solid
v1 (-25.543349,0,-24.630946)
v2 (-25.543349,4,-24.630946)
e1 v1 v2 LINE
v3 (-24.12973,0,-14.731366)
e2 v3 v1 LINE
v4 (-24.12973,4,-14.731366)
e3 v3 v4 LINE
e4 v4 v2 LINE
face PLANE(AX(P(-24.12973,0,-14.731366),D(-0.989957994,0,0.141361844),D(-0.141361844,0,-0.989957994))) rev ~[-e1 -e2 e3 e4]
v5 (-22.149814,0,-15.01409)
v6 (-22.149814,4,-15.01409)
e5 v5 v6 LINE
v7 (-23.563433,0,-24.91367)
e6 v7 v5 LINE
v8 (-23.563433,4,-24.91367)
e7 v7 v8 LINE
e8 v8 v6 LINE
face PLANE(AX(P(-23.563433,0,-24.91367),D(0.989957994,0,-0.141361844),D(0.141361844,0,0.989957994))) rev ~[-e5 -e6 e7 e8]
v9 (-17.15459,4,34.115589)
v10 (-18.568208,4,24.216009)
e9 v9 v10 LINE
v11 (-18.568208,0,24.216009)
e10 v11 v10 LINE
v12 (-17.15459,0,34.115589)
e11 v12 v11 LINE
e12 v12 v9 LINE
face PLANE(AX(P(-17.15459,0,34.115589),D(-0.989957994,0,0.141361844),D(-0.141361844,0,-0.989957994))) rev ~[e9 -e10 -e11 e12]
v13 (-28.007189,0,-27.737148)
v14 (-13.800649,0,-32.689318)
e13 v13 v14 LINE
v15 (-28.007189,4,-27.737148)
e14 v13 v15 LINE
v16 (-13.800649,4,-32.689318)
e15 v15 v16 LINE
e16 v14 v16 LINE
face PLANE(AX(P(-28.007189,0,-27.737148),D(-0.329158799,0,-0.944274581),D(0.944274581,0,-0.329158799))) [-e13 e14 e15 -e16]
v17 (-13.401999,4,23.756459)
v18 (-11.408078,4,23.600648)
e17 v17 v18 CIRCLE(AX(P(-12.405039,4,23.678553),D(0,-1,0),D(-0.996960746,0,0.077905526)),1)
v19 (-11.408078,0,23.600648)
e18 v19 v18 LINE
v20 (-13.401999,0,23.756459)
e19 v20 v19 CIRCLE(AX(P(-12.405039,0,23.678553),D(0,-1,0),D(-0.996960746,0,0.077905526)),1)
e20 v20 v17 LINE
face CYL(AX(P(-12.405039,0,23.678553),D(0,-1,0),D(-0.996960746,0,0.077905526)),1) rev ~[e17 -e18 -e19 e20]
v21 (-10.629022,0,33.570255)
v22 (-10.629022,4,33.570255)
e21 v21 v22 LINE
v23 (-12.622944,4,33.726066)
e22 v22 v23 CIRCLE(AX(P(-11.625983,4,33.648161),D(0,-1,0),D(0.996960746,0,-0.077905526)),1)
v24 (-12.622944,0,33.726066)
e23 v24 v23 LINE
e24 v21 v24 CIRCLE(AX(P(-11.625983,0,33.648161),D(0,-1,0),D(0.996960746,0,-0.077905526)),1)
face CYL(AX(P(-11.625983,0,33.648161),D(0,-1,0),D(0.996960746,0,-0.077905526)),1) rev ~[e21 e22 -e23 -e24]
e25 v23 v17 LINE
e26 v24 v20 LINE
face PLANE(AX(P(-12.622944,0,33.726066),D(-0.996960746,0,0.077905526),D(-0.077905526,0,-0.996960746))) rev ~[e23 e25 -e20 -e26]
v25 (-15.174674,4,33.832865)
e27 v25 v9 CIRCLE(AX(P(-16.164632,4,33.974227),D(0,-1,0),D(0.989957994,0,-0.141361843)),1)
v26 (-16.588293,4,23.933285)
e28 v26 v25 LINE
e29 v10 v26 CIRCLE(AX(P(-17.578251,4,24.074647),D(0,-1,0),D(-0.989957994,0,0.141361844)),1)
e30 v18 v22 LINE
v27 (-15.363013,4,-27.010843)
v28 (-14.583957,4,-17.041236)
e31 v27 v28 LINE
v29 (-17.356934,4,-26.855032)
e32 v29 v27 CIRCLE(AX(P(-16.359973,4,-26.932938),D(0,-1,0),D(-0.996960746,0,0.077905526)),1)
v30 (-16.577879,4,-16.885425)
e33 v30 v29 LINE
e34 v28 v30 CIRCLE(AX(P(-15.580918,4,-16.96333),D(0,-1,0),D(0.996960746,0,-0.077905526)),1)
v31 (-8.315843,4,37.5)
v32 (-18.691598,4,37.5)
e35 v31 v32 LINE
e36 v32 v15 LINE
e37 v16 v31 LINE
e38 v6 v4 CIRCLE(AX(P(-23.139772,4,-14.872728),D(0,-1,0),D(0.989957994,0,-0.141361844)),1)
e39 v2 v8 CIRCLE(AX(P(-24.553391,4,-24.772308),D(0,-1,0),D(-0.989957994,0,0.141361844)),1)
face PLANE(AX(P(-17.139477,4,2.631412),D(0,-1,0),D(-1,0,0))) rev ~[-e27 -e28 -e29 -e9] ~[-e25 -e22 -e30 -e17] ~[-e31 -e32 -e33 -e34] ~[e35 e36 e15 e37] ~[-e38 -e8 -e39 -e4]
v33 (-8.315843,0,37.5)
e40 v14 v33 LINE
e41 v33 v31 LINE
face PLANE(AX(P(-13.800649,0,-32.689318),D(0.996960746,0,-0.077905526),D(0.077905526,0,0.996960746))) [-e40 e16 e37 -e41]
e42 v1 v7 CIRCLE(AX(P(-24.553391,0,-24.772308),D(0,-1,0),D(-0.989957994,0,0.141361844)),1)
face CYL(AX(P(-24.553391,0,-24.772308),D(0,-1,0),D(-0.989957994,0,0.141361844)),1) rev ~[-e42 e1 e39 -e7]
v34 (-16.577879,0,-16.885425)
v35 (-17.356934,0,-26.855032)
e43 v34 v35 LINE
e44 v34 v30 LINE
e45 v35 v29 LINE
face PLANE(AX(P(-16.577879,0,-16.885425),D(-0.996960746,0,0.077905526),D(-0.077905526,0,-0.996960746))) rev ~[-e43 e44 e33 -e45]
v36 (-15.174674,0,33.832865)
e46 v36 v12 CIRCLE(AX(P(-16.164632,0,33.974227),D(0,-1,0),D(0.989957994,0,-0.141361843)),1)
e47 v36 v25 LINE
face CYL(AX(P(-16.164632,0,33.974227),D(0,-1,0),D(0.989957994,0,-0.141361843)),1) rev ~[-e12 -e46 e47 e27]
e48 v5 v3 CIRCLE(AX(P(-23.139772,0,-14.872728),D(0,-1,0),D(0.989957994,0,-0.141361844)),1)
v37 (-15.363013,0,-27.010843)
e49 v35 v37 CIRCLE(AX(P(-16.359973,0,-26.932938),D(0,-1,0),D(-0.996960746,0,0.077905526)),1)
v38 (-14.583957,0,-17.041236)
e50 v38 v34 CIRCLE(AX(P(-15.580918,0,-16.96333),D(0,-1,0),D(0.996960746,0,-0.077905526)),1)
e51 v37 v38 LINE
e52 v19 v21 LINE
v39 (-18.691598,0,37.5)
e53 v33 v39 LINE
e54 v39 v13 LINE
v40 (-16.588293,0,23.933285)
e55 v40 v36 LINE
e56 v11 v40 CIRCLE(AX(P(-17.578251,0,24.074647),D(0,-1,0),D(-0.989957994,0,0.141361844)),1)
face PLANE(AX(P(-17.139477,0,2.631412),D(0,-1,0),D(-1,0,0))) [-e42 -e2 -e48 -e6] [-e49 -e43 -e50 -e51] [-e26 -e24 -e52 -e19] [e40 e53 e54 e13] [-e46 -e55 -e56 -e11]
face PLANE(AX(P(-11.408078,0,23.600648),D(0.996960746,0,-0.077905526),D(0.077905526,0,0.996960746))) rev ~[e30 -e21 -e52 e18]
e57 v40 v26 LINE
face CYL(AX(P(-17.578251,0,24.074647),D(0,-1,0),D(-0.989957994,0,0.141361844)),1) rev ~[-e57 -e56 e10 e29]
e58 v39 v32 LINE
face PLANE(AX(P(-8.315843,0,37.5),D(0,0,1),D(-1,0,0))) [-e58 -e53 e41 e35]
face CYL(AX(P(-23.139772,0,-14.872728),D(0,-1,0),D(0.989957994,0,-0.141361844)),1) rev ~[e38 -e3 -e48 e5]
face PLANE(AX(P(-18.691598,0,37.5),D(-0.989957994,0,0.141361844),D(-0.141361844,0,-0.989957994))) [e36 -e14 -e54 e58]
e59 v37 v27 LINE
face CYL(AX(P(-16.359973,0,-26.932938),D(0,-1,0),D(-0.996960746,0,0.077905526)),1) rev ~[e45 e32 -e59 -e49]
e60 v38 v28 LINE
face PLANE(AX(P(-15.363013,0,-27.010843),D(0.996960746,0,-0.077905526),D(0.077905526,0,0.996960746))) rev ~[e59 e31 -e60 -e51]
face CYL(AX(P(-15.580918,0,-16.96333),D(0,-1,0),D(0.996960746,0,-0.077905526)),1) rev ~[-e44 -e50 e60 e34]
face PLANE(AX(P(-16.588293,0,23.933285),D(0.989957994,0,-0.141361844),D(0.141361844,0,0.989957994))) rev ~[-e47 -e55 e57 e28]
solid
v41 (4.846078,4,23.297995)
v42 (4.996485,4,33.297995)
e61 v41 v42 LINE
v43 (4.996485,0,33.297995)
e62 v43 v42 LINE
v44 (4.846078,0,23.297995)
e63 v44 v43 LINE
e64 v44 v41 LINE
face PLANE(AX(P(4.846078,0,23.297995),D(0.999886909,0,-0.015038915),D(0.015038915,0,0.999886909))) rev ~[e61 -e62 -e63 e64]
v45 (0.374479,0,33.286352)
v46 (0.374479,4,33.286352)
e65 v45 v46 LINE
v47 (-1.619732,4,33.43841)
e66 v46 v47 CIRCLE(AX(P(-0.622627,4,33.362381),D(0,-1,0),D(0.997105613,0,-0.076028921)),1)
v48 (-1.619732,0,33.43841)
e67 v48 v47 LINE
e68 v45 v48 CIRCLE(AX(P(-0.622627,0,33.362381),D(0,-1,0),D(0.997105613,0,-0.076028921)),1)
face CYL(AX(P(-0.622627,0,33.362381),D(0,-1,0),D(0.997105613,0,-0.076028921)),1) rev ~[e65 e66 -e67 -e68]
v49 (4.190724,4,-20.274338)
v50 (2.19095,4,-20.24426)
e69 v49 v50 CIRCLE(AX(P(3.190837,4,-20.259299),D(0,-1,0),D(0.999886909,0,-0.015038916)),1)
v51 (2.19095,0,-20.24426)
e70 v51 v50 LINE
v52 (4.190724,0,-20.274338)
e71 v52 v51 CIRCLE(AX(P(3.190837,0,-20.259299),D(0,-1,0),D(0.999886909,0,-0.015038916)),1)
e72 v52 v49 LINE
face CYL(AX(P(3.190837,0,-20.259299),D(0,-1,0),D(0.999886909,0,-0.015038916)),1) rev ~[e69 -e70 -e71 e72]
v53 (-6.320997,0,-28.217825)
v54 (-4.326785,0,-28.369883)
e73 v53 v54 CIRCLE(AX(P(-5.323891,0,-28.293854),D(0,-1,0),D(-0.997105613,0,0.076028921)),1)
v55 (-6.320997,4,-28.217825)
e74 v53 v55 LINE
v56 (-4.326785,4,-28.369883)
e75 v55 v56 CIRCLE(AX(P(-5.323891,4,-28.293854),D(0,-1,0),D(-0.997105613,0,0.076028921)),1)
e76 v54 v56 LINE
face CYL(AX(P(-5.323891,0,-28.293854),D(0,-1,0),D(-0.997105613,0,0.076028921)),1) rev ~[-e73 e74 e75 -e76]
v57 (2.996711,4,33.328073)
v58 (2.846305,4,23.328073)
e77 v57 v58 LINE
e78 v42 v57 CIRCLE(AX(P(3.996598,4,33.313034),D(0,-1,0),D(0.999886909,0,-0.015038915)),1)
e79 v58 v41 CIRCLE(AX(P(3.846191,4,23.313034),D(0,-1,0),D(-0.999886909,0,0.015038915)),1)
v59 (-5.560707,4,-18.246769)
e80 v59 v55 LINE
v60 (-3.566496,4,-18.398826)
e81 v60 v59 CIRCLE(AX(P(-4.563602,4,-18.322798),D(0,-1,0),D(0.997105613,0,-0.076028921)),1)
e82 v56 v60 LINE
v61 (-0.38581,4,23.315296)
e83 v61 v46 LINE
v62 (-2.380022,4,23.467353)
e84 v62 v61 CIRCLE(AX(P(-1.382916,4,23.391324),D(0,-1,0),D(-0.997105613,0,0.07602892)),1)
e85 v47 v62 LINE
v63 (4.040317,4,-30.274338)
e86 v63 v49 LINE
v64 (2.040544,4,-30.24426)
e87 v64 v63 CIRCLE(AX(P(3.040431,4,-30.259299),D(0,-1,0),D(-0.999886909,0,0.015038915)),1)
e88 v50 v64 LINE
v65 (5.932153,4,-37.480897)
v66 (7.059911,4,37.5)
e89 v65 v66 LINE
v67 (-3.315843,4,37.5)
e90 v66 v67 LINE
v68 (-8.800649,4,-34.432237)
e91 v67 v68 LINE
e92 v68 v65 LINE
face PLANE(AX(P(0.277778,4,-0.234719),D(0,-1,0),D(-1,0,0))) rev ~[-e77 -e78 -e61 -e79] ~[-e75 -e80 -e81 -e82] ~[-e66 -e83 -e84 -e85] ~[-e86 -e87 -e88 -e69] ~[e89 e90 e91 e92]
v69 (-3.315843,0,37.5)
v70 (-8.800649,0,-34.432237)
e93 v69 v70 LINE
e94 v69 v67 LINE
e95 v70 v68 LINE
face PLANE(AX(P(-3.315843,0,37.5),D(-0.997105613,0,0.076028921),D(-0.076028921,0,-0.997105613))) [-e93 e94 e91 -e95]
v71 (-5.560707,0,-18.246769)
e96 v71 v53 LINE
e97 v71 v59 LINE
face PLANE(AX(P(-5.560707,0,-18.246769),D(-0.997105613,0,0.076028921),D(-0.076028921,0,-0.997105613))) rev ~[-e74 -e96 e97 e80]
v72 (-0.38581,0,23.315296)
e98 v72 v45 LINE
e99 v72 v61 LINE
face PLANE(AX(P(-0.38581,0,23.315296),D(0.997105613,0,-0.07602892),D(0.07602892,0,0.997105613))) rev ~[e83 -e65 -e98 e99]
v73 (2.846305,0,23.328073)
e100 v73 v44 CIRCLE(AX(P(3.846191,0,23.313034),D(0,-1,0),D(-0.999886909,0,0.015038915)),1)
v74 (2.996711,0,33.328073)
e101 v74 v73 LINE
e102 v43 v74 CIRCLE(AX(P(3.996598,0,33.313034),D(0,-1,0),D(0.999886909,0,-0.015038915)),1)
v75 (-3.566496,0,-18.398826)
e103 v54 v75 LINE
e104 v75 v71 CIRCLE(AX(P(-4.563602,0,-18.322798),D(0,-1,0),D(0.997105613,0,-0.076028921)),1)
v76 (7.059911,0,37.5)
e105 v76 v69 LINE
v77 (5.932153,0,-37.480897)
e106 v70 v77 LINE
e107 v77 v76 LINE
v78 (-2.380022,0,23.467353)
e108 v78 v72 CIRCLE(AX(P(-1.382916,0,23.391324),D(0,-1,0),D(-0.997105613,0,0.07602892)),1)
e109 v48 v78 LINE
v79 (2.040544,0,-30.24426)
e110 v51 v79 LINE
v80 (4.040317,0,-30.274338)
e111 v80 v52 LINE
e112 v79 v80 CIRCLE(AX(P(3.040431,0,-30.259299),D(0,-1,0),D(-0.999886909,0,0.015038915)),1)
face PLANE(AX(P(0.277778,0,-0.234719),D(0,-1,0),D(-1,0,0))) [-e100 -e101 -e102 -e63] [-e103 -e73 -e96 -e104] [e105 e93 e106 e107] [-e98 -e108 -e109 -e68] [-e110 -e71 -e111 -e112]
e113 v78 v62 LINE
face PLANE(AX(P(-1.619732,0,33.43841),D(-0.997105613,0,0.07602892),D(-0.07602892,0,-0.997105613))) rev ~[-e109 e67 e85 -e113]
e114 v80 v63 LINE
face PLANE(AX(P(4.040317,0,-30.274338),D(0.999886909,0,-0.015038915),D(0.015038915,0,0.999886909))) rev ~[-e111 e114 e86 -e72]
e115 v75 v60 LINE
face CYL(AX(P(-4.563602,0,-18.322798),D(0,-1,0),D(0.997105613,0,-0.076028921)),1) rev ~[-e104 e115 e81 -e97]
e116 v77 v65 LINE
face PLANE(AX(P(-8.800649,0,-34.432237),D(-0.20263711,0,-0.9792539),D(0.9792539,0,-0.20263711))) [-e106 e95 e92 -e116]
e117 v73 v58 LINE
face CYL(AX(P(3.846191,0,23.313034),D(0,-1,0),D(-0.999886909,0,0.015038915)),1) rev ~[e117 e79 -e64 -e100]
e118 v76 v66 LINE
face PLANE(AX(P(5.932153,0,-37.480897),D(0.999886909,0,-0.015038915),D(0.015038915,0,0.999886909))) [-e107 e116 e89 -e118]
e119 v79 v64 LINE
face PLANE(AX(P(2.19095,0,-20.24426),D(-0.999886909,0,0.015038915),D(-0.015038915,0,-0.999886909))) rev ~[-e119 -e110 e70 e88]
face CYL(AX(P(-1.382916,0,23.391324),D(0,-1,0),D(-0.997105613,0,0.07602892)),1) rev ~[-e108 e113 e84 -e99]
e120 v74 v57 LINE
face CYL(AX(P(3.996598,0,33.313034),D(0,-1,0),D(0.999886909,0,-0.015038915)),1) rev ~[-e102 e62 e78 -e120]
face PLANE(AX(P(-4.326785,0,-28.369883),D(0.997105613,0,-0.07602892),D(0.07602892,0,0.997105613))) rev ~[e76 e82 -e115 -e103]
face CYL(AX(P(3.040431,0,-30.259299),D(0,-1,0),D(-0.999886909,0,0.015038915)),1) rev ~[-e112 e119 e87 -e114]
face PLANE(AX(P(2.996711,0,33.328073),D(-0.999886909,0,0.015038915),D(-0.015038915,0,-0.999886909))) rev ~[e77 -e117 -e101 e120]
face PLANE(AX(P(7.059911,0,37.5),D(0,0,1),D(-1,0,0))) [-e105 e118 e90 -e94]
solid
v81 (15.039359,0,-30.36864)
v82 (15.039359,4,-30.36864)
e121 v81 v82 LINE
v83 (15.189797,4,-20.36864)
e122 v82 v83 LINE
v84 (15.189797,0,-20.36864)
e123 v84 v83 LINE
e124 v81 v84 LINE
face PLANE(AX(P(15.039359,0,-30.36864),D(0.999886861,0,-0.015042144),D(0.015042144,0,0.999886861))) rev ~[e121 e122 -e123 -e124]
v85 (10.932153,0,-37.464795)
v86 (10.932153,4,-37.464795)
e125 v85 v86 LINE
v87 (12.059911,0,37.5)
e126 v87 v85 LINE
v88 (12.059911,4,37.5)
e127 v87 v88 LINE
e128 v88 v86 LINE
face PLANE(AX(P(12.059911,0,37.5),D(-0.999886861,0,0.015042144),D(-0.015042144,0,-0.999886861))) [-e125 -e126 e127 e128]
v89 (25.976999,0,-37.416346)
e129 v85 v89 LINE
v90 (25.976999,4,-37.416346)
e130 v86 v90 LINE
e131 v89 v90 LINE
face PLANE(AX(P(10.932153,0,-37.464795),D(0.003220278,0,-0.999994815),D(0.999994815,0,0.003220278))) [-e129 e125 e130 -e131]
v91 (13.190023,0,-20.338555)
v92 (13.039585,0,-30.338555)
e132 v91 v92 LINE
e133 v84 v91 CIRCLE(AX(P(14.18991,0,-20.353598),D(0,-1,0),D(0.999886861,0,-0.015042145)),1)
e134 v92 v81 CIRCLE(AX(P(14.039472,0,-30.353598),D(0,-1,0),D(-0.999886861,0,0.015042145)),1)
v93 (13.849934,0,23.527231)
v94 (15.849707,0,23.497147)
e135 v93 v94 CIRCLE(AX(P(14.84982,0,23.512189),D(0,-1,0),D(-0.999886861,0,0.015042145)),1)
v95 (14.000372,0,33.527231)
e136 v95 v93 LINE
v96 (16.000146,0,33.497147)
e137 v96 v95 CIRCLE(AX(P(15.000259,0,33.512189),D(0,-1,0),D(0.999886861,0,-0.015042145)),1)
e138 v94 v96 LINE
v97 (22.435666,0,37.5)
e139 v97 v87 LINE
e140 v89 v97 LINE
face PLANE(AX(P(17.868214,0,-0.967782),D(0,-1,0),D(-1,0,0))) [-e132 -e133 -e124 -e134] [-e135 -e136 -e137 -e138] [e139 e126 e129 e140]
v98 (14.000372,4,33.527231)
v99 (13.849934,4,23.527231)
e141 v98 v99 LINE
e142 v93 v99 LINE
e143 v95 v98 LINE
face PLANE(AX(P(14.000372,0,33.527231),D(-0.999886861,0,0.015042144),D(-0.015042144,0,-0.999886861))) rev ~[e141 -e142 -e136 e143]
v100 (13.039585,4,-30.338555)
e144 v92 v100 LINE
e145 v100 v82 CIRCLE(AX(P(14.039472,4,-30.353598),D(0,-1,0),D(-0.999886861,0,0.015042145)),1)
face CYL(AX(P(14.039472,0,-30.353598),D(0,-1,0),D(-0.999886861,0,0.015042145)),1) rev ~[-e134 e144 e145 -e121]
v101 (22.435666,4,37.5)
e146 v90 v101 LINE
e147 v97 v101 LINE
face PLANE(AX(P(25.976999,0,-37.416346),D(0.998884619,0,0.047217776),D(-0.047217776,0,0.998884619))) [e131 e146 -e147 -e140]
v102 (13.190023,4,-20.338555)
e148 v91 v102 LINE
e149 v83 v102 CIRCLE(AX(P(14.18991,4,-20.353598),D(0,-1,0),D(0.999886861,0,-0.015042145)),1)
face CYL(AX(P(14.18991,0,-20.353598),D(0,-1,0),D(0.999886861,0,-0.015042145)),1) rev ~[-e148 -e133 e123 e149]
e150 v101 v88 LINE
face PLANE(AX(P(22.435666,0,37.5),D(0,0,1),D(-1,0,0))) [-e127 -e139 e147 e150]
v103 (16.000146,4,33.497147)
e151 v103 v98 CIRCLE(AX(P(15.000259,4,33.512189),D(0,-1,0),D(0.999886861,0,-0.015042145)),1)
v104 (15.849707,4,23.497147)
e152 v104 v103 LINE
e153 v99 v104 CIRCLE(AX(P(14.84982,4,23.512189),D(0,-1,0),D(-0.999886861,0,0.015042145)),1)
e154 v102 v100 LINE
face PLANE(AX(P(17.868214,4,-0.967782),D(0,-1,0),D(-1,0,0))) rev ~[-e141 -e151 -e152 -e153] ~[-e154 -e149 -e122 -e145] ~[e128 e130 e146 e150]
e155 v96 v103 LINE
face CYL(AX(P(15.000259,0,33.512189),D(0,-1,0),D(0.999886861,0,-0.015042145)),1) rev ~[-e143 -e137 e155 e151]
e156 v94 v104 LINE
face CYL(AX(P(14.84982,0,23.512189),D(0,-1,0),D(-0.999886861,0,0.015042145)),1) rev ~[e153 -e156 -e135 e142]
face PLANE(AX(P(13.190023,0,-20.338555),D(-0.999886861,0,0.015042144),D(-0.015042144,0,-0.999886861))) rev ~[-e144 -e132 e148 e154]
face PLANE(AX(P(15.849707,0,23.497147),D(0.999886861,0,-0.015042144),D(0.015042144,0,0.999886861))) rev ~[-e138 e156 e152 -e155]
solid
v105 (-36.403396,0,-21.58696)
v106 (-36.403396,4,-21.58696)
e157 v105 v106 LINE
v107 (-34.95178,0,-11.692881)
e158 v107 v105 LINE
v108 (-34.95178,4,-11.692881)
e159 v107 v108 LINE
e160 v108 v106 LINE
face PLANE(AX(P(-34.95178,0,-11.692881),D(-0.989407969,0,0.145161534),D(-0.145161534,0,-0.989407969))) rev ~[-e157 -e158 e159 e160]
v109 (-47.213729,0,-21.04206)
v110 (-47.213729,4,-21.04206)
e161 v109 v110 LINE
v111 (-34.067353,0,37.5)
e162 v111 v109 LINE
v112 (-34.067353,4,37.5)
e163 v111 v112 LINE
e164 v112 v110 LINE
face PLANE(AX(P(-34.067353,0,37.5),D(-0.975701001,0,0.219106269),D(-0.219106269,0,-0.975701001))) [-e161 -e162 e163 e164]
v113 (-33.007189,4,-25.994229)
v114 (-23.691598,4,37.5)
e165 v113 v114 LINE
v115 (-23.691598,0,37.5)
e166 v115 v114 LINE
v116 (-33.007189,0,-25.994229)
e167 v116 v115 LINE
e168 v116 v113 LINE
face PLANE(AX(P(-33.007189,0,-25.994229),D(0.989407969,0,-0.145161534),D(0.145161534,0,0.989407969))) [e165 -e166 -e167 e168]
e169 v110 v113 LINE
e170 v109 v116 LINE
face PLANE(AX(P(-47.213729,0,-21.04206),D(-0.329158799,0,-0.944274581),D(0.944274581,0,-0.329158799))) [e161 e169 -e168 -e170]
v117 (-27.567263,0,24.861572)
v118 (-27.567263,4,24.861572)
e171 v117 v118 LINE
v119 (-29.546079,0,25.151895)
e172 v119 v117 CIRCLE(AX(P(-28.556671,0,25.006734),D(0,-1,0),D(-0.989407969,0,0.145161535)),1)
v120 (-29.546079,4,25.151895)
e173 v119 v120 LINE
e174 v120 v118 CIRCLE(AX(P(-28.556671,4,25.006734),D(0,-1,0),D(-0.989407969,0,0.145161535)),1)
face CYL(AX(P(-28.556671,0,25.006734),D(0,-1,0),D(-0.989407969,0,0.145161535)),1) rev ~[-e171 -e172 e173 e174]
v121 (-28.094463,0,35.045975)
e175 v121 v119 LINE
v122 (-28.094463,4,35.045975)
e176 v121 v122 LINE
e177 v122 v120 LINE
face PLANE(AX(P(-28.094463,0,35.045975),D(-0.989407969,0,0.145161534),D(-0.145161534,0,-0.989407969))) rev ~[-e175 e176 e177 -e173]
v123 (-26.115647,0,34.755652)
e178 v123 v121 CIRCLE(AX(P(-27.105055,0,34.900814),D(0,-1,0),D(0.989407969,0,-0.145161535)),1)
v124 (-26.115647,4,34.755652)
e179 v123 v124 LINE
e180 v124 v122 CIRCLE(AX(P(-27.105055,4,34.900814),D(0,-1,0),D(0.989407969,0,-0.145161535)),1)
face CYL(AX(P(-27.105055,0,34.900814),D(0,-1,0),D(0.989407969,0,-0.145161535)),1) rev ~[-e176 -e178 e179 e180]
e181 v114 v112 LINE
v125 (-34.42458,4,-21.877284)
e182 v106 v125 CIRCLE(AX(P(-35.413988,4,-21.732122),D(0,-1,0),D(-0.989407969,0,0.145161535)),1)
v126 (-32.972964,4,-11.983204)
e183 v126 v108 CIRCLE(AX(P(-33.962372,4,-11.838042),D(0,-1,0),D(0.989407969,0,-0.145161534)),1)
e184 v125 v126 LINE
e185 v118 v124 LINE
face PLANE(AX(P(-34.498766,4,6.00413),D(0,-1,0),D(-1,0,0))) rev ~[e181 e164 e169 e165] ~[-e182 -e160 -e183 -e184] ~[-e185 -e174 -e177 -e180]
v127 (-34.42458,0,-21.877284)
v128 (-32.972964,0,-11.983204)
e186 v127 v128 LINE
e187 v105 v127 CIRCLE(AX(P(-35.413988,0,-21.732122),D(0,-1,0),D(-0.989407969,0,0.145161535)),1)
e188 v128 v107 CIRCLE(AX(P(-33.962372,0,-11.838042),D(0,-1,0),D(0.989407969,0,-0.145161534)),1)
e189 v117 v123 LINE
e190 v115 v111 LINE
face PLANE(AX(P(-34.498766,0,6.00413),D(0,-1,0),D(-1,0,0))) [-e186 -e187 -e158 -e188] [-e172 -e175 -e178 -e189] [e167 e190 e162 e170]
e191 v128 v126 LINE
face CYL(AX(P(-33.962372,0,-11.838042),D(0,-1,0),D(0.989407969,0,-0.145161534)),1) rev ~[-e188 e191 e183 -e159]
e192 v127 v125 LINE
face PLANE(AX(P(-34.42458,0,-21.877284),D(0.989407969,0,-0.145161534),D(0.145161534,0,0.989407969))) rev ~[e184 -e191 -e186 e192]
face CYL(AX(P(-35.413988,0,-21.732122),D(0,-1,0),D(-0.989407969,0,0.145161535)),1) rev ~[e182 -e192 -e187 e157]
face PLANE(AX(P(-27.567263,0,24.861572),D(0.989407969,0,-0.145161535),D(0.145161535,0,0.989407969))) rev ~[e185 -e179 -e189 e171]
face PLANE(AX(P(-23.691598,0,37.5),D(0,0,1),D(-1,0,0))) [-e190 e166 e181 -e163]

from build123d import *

# Parameters (mm, degrees)
BOSS_EXTRUDE1_DEPTH   = 4
BOSS_EXTRUDE1_2_DEPTH = 4
BOSS_EXTRUDE1_3_DEPTH = 4
BOSS_EXTRUDE1_4_DEPTH = 4
CUT_EXTRUDE1_DEPTH    = 5


with BuildPart() as part:
    # Sketch3 → Boss-Extrude1 (new body)
    with BuildSketch(Plane(origin=(0, 0, 0), x_dir=(1, 0, 0), z_dir=(0, 1, 0))):
        Polygon((-47.213729066, 21.042060041), (-33.007188918, 25.994229451), (-23.691598112, -37.5), (-34.067352907, -37.5), align=None)
    extrude(amount=BOSS_EXTRUDE1_DEPTH)


with BuildPart() as body_2:
    # Sketch3 → Boss-Extrude1 2 (new body)
    with BuildSketch(Plane(origin=(0, 0, 0), x_dir=(1, 0, 0), z_dir=(0, 1, 0))):
        Polygon((-28.007188918, 27.737148331), (-13.800648769, 32.68931774), (-8.315843317, -37.5), (-18.691598112, -37.5), align=None)
    extrude(amount=BOSS_EXTRUDE1_2_DEPTH)


with BuildPart() as body_3:
    # Sketch3 → Boss-Extrude1 3 (new body)
    with BuildSketch(Plane(origin=(0, 0, 0), x_dir=(1, 0, 0), z_dir=(0, 1, 0))):
        Polygon((22.435666272, -37.5), (12.059911477, -37.5), (10.932152609, 37.464795247), (25.976999486, 37.416346408), align=None)
    extrude(amount=BOSS_EXTRUDE1_3_DEPTH)


with BuildPart() as body_4:
    # Sketch3 → Boss-Extrude1 4 (new body)
    with BuildSketch(Plane(origin=(0, 0, 0), x_dir=(1, 0, 0), z_dir=(0, 1, 0))):
        Polygon((-8.800648769, 34.43223662), (5.932152609, 37.480896721), (7.059911477, -37.5), (-3.315843317, -37.5), align=None)
    extrude(amount=BOSS_EXTRUDE1_4_DEPTH)


with BuildPart() as cut_extrude1_tool:
    # Sketch4 → Cut-Extrude1 (new body, through all)
    with BuildSketch(Plane(origin=(0, 0, 0), x_dir=(1, 0, 0), z_dir=(0, 1, 0))):
        with BuildLine():
            Line((-34.42457978, 21.877283541), (-32.972964435, 11.983203852))
            ThreePointArc((-32.972964435, 11.983203852), (-33.81721087, 10.848634349), (-34.951780373, 11.692880783))
            Line((-34.951780373, 11.692880783), (-36.403395718, 21.586960472))
            ThreePointArc((-36.403395718, 21.586960472), (-35.559149283, 22.721529976), (-34.42457978, 21.877283541))
        make_face()
        with BuildLine():
            Line((-27.56726282, -24.861572382), (-26.115647475, -34.75565207))
            ThreePointArc((-26.115647475, -34.75565207), (-26.959893909, -35.890221574), (-28.094463413, -35.045975139))
            Line((-28.094463413, -35.045975139), (-29.546078757, -25.15189545))
            ThreePointArc((-29.546078757, -25.15189545), (-28.701832323, -24.017325947), (-27.56726282, -24.861572382))
        make_face()
        with BuildLine():
            Line((-23.56343255, 24.913669754), (-22.14981411, 15.014089819))
            ThreePointArc((-22.14981411, 15.014089819), (-22.99841026, 13.882769981), (-24.129730097, 14.731366131))
            Line((-24.129730097, 14.731366131), (-25.543348537, 24.630946067))
            ThreePointArc((-25.543348537, 24.630946067), (-24.694752387, 25.762265904), (-23.56343255, 24.913669754))
        make_face()
        with BuildLine():
            Line((-16.58829251, -23.933285303), (-15.17467407, -33.832865239))
            ThreePointArc((-15.17467407, -33.832865239), (-16.02327022, -34.964185076), (-17.154590057, -34.115588927))
            Line((-17.154590057, -34.115588927), (-18.568208497, -24.216008991))
            ThreePointArc((-18.568208497, -24.216008991), (-17.719612347, -23.084689153), (-16.58829251, -23.933285303))
        make_face()
        with BuildLine():
            Line((-15.363012646, 27.01084324), (-14.583957383, 17.04123578))
            ThreePointArc((-14.583957383, 17.04123578), (-15.503012603, 15.966369508), (-16.577878875, 16.885424728))
            Line((-16.577878875, 16.885424728), (-17.356934138, 26.855032187))
            ThreePointArc((-17.356934138, 26.855032187), (-16.437878918, 27.929898459), (-15.363012646, 27.01084324))
        make_face()
        with BuildLine():
            Line((-11.408077758, -23.600647707), (-10.629022496, -33.570255167))
            ThreePointArc((-10.629022496, -33.570255167), (-11.548077715, -34.645121439), (-12.622943988, -33.726066219))
            Line((-12.622943988, -33.726066219), (-13.40199925, -23.75645876))
            ThreePointArc((-13.40199925, -23.75645876), (-12.48294403, -22.681592488), (-11.408077758, -23.600647707))
        make_face()
        with BuildLine():
            Line((-4.326785443, 28.36988258), (-3.566496238, 18.398826451))
            ThreePointArc((-3.566496238, 18.398826451), (-4.48757293, 17.325691917), (-5.560707464, 18.24676861))
            Line((-5.560707464, 18.24676861), (-6.320996669, 28.217824738))
            ThreePointArc((-6.320996669, 28.217824738), (-5.399919976, 29.290959272), (-4.326785443, 28.36988258))
        make_face()
        with BuildLine():
            Line((4.04031749, 30.274337554), (4.190723649, 20.274337554))
            ThreePointArc((4.190723649, 20.274337554), (3.205875655, 19.259411729), (2.190949831, 20.244259724))
            Line((2.190949831, 20.244259724), (2.040543672, 30.244259724))
            ThreePointArc((2.040543672, 30.244259724), (3.025391666, 31.259185548), (4.04031749, 30.274337554))
        make_face()
        with BuildLine():
            Line((-0.385810436, -23.315295538), (0.374478769, -33.286351667))
            ThreePointArc((0.374478769, -33.286351667), (-0.546597923, -34.359486201), (-1.619732457, -33.438409508))
            Line((-1.619732457, -33.438409508), (-2.380021662, -23.467353379))
            ThreePointArc((-2.380021662, -23.467353379), (-1.45894497, -22.394218846), (-0.385810436, -23.315295538))
        make_face()
        with BuildLine():
            Line((4.846078374, -23.297995449), (4.996484533, -33.297995449))
            ThreePointArc((4.996484533, -33.297995449), (4.011636539, -34.312921273), (2.996710715, -33.328073278))
            Line((2.996710715, -33.328073278), (2.846304556, -23.328073278))
            ThreePointArc((2.846304556, -23.328073278), (3.83115255, -22.313147454), (4.846078374, -23.297995449))
        make_face()
        with BuildLine():
            Line((15.039358693, 30.368639682), (15.189797157, 20.368639682))
            ThreePointArc((15.189797157, 20.368639682), (14.204952441, 19.353710677), (13.190023436, 20.338555394))
            Line((13.190023436, 20.338555394), (13.039584972, 30.338555394))
            ThreePointArc((13.039584972, 30.338555394), (14.024429688, 31.353484399), (15.039358693, 30.368639682))
        make_face()
        with BuildLine():
            Line((15.849707318, -23.497147154), (16.000145783, -33.497147154))
            ThreePointArc((16.000145783, -33.497147154), (15.015301067, -34.512076159), (14.000372062, -33.527231443))
            Line((14.000372062, -33.527231443), (13.849933597, -23.527231443))
            ThreePointArc((13.849933597, -23.527231443), (14.834778313, -22.512302438), (15.849707318, -23.497147154))
        make_face()
    extrude(amount=CUT_EXTRUDE1_DEPTH)


with BuildPart() as part_1:
    add(part.part)

    # Cut-Extrude1: cut by cut_extrude1_tool
    add(cut_extrude1_tool.part, mode=Mode.SUBTRACT)


with BuildPart() as body_2_1:
    add(body_2.part)

    # Cut-Extrude1: cut by cut_extrude1_tool
    add(cut_extrude1_tool.part, mode=Mode.SUBTRACT)


with BuildPart() as body_3_1:
    add(body_3.part)

    # Cut-Extrude1: cut by cut_extrude1_tool
    add(cut_extrude1_tool.part, mode=Mode.SUBTRACT)


with BuildPart() as body_4_1:
    add(body_4.part)

    # Cut-Extrude1: cut by cut_extrude1_tool
    add(cut_extrude1_tool.part, mode=Mode.SUBTRACT)


solid = Compound([part_1.part, body_2_1.part, body_3_1.part, body_4_1.part])
